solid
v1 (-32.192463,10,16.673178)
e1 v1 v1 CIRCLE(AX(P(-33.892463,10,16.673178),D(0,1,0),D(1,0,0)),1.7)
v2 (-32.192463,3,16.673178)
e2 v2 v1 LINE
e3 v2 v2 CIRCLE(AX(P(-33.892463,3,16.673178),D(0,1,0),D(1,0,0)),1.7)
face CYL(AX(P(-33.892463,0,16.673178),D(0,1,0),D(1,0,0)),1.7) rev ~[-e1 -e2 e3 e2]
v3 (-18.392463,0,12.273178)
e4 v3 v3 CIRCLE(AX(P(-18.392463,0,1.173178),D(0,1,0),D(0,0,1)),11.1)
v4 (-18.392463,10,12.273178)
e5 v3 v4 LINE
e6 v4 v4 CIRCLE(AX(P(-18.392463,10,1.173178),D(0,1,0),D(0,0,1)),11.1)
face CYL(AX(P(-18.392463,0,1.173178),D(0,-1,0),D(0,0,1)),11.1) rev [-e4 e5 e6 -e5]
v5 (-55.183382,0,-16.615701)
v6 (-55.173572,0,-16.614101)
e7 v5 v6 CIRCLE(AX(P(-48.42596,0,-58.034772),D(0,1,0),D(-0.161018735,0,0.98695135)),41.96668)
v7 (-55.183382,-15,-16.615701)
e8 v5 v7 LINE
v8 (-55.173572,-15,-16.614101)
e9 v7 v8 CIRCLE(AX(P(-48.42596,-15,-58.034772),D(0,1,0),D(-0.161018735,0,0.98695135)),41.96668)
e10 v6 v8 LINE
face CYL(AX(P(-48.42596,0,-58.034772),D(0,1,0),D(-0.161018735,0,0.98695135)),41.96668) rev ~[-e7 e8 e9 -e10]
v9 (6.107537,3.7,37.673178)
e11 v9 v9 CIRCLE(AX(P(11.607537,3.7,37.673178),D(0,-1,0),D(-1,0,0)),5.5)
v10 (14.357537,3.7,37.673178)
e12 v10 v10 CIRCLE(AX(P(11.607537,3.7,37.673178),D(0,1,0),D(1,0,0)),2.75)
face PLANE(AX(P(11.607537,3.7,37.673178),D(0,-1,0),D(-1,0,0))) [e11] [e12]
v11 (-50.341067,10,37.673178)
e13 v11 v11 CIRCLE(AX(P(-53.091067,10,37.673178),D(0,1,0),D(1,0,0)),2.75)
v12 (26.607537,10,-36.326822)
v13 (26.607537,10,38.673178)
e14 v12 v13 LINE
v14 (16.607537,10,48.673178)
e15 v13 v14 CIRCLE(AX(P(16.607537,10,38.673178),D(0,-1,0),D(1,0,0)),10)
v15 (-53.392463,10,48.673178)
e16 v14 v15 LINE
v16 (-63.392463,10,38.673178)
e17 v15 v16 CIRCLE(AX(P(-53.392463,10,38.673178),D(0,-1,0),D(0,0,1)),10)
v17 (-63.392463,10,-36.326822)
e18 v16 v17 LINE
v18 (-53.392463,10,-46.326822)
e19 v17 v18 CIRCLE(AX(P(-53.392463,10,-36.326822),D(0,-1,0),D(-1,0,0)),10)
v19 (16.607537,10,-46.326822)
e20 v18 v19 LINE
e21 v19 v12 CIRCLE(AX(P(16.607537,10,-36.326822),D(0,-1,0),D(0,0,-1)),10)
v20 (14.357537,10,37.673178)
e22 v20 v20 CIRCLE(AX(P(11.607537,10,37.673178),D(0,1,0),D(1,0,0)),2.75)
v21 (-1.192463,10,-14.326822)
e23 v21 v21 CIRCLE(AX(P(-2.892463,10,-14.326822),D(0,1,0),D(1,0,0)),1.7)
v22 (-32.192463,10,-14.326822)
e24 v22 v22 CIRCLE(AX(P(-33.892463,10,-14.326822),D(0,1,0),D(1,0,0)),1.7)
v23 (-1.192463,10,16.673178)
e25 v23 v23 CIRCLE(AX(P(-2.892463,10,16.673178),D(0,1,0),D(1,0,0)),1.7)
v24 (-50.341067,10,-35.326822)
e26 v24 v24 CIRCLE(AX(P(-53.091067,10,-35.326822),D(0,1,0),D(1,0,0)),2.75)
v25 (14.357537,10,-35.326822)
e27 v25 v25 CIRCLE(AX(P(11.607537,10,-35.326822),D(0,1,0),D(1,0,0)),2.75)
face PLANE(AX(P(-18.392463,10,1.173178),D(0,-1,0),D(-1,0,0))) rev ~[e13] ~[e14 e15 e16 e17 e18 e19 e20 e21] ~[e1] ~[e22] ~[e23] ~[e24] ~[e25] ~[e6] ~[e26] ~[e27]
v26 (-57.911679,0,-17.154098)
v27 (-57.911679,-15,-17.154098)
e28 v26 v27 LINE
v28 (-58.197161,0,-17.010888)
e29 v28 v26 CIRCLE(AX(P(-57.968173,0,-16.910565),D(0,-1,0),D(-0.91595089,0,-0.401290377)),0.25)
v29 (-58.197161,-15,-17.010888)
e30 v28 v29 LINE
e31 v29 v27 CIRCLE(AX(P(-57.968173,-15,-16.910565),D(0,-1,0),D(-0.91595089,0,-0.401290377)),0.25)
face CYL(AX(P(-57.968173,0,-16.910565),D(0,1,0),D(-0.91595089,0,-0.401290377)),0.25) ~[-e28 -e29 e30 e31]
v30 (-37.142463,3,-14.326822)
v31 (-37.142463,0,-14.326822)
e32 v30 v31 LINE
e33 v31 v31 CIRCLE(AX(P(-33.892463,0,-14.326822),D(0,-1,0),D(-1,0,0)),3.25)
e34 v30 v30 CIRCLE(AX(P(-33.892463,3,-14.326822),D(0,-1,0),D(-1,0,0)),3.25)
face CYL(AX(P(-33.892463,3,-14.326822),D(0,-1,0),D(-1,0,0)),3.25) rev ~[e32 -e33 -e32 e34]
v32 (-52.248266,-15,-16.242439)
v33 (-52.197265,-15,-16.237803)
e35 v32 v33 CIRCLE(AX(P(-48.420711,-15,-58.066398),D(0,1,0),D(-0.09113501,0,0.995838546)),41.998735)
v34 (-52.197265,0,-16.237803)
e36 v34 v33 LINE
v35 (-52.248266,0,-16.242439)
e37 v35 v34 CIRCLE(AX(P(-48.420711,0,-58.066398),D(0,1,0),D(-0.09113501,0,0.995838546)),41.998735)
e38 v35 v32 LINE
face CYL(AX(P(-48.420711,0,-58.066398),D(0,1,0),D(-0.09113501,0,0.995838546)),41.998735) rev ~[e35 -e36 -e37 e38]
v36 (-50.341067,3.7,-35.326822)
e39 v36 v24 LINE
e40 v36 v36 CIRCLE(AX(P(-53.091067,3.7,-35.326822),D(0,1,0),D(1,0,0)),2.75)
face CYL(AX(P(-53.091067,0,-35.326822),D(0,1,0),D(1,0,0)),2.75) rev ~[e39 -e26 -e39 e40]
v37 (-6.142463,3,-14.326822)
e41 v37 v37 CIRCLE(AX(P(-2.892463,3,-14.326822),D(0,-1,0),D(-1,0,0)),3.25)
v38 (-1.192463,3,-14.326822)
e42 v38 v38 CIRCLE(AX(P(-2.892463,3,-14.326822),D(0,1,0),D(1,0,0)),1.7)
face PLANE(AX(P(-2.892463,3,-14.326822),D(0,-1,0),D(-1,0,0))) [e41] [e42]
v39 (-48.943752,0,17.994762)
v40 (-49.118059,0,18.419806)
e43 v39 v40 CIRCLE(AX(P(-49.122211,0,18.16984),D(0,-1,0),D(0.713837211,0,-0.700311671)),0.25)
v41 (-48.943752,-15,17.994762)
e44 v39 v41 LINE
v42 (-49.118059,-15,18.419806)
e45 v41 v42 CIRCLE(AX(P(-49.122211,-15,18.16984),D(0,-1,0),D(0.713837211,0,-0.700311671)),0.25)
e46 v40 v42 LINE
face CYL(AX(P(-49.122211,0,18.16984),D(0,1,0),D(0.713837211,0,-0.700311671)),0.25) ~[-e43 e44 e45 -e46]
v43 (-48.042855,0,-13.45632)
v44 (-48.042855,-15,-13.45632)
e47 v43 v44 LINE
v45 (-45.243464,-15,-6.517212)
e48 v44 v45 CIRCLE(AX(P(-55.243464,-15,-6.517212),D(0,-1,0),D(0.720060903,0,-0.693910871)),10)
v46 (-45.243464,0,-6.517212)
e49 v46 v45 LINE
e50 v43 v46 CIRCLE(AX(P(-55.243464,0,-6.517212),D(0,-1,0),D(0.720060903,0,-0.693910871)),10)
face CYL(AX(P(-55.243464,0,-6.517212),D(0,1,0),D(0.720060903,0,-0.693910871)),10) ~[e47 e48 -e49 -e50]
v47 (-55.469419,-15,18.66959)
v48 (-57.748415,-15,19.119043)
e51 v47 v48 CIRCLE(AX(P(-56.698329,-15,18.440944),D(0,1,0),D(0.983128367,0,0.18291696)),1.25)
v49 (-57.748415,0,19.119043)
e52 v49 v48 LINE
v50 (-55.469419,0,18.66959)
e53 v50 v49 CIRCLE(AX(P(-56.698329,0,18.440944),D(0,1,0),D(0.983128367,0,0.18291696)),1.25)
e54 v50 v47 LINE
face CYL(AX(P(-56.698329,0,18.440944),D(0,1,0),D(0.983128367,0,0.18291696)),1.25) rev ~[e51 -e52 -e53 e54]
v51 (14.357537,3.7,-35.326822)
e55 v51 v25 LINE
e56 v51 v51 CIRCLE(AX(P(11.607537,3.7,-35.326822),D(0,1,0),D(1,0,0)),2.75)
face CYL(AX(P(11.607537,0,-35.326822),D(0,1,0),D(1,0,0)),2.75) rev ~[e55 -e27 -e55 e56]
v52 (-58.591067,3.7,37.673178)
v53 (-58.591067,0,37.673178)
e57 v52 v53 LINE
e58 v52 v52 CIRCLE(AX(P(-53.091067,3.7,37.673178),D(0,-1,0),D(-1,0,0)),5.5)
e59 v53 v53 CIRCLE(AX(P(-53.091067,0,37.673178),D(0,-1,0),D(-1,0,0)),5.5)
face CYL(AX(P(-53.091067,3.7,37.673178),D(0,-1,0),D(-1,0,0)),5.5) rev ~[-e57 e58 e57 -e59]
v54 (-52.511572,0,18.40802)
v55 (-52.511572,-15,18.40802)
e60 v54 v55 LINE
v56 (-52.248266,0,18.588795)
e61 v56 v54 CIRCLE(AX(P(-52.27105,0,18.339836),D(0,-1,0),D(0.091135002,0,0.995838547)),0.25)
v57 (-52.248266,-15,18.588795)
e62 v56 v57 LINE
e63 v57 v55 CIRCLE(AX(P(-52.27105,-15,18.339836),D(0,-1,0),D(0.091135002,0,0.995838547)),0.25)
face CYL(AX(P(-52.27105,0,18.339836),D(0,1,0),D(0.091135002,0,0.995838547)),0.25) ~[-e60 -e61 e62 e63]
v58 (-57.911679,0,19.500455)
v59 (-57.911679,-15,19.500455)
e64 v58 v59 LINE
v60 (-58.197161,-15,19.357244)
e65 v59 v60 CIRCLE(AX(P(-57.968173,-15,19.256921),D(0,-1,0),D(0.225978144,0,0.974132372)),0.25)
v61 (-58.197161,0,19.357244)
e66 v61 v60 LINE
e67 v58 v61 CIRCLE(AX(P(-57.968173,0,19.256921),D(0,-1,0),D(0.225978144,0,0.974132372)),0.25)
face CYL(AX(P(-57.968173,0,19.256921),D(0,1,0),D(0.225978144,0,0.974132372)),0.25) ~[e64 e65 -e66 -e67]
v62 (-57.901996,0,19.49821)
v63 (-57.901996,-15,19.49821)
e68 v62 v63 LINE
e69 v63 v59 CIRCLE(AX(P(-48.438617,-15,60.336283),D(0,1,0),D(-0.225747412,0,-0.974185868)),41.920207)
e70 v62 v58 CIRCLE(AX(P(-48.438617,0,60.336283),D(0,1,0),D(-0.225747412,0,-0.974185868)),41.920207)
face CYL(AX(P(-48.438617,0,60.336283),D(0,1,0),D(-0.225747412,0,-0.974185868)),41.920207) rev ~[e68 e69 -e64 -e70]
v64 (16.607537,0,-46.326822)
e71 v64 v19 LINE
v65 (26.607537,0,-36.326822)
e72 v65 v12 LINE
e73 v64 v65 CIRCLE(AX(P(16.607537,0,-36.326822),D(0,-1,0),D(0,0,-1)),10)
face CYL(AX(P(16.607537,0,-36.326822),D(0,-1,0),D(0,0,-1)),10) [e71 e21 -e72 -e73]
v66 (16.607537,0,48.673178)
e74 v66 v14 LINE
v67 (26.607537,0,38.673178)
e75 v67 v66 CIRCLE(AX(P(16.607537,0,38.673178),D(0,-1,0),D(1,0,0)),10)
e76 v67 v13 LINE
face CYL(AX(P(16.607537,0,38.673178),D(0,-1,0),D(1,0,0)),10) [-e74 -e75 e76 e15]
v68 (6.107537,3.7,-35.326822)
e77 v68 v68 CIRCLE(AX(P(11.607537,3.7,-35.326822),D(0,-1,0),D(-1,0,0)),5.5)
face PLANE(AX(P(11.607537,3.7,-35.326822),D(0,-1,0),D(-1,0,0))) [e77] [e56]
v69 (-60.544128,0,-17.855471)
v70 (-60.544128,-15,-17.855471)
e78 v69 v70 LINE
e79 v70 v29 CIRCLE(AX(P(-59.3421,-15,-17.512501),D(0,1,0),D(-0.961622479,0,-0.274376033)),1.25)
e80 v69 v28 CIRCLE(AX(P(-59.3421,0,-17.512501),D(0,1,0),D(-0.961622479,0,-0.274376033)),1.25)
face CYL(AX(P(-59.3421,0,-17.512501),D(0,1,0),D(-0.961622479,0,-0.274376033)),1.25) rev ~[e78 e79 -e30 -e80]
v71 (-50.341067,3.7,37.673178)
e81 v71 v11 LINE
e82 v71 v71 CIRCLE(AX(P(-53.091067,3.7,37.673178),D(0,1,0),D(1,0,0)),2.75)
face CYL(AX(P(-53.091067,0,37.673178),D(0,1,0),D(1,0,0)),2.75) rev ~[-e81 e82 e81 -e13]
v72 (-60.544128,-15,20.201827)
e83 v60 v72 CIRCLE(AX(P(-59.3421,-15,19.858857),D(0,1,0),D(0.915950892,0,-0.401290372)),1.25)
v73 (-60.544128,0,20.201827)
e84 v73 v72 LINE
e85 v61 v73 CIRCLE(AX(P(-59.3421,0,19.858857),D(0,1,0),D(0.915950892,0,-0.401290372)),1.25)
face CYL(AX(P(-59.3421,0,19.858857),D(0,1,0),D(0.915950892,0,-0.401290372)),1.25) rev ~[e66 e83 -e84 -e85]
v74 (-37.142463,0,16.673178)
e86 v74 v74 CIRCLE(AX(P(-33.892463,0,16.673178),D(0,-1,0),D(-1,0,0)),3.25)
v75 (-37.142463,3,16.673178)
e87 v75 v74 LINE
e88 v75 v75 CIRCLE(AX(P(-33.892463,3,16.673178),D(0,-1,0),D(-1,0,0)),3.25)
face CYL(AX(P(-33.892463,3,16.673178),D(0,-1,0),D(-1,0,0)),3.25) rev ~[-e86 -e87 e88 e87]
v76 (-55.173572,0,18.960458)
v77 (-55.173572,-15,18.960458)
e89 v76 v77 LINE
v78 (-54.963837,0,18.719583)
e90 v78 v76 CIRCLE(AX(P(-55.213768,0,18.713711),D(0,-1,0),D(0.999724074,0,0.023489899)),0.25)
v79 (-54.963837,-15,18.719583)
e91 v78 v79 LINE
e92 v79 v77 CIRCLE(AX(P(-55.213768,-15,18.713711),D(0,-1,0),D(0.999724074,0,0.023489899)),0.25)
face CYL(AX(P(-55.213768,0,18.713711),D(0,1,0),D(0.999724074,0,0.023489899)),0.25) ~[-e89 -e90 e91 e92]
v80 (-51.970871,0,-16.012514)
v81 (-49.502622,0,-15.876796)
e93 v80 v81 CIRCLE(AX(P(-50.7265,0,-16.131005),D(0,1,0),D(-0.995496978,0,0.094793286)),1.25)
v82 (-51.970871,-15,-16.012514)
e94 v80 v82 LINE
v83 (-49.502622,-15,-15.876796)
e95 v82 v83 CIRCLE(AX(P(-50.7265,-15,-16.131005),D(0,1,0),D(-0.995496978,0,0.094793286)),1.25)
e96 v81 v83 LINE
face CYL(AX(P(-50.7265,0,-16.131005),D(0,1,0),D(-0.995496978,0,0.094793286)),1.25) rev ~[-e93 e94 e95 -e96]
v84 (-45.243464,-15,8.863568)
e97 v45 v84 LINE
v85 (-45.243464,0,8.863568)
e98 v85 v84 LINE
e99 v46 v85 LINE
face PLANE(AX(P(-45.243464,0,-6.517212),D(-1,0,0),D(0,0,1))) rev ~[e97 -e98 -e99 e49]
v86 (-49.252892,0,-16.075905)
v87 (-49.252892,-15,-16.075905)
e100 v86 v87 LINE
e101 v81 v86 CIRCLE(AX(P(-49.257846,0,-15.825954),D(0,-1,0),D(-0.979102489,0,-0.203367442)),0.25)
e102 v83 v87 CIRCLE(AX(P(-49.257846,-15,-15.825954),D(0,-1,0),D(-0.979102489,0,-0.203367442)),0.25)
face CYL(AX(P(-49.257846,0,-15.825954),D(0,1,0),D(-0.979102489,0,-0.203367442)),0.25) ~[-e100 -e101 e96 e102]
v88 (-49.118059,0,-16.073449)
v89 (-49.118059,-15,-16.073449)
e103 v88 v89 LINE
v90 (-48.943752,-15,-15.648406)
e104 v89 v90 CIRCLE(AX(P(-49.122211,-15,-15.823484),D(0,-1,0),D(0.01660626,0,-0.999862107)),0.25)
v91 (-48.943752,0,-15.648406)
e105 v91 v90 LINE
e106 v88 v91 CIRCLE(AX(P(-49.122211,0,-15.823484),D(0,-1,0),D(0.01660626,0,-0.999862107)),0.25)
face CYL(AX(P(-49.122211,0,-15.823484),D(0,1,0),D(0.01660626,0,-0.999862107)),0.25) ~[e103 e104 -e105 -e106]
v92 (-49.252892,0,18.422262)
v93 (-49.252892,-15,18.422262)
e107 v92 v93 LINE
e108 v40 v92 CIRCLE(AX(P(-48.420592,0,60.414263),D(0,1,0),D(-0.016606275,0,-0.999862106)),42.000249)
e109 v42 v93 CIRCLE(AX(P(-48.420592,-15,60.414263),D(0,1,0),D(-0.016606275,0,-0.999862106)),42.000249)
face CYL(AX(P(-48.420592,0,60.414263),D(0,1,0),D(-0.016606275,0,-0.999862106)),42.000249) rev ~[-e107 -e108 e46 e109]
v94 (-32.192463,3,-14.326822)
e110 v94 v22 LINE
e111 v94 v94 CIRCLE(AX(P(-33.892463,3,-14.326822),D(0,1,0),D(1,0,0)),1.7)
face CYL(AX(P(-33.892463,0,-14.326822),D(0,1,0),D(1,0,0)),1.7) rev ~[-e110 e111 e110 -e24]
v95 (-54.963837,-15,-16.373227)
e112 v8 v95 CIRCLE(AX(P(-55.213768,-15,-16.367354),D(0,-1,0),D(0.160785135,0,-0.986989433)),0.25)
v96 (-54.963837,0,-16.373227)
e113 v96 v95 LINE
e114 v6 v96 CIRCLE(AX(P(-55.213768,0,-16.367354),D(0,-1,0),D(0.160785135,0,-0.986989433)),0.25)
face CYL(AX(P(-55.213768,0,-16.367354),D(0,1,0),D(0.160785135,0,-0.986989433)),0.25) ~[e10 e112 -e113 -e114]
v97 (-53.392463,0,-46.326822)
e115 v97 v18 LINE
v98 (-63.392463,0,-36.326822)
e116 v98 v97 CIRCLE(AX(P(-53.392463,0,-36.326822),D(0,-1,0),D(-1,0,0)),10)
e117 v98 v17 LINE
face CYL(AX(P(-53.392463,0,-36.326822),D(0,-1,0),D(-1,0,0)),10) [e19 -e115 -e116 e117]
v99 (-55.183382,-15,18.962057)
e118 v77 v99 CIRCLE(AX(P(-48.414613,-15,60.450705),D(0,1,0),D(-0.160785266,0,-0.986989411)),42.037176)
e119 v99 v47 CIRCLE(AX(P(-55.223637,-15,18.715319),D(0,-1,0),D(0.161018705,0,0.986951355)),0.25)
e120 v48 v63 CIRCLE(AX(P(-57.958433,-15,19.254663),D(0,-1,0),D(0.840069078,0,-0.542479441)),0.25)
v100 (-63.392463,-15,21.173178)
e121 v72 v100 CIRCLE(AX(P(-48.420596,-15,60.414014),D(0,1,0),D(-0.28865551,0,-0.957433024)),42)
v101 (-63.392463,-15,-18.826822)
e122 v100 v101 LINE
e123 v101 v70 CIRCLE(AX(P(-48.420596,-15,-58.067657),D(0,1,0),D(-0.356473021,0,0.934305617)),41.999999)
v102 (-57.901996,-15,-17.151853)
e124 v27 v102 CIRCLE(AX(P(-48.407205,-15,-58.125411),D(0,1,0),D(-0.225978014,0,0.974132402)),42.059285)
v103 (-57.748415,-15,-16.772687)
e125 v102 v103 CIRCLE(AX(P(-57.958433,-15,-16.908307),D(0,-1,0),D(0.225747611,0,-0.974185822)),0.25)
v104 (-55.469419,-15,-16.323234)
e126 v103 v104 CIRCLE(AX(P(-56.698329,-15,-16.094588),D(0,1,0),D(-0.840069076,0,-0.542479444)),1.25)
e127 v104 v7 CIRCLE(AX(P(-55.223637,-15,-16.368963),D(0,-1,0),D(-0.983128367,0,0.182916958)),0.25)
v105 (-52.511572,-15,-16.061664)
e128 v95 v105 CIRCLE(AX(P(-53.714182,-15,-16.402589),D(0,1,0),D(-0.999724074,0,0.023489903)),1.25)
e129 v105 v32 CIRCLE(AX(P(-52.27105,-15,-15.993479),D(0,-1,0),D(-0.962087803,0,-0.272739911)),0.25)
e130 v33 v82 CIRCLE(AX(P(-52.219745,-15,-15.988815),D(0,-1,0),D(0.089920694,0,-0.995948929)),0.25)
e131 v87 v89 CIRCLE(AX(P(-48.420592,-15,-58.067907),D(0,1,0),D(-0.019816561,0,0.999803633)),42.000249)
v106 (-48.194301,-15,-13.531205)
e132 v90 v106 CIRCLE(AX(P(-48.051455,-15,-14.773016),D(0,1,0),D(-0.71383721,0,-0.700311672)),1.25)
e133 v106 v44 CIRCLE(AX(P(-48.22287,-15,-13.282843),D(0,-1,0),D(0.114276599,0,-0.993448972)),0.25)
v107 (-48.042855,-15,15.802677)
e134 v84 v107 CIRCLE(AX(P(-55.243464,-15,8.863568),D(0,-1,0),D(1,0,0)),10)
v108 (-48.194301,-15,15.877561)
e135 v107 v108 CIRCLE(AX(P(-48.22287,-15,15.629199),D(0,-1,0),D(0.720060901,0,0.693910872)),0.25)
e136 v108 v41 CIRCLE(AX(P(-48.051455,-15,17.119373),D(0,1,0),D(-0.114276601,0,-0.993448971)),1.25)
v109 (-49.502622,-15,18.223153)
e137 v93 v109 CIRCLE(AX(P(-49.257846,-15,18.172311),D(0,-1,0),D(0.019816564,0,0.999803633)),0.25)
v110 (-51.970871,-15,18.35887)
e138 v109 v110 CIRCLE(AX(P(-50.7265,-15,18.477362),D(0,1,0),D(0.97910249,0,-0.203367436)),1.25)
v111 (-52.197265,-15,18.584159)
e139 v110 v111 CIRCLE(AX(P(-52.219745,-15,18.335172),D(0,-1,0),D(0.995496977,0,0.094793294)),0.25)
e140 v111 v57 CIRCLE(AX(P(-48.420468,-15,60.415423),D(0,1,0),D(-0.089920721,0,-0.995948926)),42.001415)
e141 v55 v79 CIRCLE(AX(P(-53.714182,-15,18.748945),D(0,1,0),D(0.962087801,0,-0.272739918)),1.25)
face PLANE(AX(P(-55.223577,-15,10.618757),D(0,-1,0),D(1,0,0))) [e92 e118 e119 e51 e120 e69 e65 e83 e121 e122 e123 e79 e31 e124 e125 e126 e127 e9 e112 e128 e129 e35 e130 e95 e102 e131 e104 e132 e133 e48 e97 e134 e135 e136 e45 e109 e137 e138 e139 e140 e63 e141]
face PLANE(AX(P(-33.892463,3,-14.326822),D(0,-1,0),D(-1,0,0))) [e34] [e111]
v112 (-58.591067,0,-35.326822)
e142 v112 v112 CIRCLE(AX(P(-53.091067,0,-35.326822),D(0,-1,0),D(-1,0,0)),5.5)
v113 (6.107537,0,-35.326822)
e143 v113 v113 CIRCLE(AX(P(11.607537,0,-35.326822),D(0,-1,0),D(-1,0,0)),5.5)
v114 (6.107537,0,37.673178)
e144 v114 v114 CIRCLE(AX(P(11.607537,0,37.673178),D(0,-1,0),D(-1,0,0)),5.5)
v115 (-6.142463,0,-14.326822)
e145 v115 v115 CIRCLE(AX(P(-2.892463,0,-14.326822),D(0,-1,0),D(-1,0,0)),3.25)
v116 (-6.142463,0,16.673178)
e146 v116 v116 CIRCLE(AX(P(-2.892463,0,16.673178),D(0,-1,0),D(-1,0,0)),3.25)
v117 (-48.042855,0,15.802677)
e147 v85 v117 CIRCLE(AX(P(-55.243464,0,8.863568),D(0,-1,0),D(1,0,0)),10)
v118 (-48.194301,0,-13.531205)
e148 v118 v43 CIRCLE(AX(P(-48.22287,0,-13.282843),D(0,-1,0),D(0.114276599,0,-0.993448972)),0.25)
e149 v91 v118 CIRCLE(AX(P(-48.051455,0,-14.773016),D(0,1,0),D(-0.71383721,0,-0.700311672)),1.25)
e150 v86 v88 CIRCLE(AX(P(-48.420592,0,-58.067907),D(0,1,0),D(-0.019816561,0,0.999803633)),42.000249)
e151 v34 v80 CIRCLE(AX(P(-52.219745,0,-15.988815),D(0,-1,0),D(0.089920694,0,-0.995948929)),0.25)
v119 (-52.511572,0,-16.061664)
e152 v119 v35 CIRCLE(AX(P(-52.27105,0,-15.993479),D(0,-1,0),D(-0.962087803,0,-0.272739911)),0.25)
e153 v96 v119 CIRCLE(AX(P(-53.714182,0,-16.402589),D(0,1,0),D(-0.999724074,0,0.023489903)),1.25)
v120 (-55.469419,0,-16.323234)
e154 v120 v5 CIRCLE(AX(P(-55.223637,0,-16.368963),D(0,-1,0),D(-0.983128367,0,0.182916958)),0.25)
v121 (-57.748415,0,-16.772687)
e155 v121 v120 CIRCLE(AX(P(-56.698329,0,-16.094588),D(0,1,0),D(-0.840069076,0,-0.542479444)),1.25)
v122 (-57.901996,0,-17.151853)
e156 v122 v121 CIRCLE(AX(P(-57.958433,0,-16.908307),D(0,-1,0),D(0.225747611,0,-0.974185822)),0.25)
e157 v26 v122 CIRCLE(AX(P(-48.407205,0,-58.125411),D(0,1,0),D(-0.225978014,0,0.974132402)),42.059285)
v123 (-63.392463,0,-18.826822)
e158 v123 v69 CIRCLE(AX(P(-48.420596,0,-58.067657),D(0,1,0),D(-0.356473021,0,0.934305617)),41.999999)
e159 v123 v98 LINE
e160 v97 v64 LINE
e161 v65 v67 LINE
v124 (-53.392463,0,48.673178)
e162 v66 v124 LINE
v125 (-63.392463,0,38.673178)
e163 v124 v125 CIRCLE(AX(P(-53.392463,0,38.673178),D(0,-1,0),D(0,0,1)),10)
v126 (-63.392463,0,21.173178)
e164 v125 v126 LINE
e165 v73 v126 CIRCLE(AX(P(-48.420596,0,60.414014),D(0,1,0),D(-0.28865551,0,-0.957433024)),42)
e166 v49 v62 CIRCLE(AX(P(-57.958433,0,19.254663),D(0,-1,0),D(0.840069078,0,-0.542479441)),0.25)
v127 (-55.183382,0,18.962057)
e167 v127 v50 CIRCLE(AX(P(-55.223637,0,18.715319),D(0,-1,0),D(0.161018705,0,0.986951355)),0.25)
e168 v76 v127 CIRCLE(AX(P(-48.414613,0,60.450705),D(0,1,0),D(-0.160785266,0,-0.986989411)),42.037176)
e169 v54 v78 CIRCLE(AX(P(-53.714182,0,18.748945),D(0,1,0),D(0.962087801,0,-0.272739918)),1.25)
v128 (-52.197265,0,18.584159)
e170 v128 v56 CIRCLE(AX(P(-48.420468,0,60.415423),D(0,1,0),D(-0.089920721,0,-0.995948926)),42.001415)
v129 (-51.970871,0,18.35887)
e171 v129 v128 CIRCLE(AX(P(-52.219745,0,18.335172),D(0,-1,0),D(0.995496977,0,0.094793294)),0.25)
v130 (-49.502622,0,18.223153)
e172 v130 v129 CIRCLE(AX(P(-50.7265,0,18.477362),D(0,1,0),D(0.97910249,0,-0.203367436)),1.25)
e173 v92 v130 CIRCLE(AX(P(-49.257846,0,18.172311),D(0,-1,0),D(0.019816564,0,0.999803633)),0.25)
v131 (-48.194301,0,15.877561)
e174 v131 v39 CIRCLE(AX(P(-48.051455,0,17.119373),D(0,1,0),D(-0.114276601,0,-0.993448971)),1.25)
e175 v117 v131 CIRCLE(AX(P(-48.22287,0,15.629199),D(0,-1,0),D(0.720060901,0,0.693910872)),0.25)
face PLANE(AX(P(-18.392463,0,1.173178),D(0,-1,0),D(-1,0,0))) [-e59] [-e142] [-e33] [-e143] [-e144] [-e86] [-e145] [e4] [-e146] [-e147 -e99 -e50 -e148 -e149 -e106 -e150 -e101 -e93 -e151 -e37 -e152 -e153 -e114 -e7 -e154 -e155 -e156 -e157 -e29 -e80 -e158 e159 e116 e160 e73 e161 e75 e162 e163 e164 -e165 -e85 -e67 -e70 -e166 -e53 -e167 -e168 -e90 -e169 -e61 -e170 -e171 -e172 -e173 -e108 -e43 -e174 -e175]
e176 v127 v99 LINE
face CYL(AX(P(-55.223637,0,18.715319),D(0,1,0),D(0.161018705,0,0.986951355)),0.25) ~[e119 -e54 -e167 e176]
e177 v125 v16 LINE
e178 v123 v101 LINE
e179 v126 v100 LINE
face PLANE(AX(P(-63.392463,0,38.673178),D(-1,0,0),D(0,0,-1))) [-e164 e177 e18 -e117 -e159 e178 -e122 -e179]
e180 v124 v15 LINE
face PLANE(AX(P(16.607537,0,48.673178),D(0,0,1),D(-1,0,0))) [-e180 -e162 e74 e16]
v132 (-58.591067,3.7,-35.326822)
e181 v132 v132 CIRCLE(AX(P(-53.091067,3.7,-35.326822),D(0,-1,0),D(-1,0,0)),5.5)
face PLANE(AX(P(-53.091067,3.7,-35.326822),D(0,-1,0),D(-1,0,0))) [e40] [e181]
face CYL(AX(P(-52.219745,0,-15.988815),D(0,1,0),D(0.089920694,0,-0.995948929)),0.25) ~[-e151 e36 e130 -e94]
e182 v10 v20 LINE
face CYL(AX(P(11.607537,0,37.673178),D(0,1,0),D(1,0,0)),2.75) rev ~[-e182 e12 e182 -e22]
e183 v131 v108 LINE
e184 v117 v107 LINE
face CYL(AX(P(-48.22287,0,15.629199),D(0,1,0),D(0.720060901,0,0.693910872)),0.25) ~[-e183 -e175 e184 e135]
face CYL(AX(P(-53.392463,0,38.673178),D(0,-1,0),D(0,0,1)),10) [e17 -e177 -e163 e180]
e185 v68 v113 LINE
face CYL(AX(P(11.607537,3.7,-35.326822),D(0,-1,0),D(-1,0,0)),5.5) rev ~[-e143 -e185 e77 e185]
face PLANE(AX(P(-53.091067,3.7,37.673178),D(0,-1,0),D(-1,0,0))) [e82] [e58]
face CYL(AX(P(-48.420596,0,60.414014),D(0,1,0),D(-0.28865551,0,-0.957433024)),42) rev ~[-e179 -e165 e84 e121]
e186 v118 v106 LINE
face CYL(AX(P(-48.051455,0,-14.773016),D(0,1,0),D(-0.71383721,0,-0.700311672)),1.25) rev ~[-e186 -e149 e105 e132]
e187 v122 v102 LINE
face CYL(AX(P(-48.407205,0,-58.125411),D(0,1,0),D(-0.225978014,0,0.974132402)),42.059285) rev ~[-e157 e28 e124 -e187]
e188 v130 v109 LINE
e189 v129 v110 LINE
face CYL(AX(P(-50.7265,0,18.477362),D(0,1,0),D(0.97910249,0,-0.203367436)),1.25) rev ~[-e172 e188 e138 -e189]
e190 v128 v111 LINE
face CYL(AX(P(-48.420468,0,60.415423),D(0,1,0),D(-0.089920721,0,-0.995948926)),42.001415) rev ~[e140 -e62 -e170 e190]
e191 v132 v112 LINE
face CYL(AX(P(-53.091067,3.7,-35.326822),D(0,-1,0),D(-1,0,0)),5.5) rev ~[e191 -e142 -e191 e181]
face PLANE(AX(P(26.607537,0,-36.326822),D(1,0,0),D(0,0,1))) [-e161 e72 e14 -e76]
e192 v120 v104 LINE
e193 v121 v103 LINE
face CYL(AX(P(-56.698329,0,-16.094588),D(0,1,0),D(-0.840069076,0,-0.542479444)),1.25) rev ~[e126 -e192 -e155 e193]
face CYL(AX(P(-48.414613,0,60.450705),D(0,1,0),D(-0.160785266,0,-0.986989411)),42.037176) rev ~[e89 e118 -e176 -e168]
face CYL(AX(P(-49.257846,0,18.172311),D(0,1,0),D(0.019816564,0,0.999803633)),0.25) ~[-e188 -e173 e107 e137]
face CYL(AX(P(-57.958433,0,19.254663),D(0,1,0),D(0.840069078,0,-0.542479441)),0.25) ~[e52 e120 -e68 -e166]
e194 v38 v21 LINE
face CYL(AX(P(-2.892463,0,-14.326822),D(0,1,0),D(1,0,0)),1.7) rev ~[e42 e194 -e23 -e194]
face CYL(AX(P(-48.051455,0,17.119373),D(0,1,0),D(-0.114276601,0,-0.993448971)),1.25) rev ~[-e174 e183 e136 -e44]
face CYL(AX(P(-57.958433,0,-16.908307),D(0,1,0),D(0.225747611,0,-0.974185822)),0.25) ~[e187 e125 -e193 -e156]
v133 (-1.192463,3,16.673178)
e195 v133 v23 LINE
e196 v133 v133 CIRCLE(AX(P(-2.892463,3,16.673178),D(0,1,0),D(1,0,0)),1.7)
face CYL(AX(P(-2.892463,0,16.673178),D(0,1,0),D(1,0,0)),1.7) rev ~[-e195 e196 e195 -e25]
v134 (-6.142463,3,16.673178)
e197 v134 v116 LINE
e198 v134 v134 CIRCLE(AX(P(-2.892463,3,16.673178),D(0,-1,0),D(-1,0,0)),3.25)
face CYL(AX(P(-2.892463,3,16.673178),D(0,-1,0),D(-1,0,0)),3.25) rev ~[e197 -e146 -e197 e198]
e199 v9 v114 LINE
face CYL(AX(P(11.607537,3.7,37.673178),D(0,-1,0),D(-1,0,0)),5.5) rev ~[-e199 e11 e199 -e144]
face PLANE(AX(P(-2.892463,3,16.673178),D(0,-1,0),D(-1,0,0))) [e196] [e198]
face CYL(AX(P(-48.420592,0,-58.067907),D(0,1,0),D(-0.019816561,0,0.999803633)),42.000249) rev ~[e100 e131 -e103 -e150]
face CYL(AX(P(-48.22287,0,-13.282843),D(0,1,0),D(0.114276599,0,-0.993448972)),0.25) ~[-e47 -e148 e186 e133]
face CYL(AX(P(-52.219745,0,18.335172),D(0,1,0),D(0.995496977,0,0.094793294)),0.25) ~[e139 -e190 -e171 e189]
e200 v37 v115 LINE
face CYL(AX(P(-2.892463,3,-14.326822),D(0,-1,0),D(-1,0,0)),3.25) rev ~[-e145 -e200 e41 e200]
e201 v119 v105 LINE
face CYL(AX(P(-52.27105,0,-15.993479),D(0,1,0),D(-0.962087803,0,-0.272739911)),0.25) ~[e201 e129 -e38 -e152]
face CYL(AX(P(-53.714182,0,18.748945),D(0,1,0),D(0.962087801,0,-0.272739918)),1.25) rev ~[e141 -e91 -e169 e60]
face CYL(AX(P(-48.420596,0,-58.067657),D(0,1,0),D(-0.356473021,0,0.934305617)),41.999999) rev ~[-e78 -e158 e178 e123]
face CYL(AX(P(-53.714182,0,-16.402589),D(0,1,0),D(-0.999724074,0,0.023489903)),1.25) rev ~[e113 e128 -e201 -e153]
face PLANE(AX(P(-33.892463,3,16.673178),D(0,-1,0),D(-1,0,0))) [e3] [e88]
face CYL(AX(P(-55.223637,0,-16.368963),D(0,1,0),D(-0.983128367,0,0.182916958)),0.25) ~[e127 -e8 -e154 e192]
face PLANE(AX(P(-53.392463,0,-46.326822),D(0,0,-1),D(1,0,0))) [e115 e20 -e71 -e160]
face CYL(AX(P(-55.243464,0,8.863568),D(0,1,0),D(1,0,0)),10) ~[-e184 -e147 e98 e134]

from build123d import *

# Parameters (mm, degrees)
SKETCH1_R                                        = 11.1
SKETCH1_R_2                                      = 1.5
BOSS_EXTRUDE1_DEPTH                              = 10
CBORE_FOR_M3_SHCS2_D                             = 3.4
CBORE_FOR_M3_SHCS2_CBORE_D                       = 6.5
CBORE_FOR_M3_SHCS2_CBORE_DEPTH                   = 3
BOSS_EXTRUDE2_DEPTH                              = 15
CBORE_FOR_M5_PAN_HEAD_MACHINE_SCREW1_D           = 5.5
CBORE_FOR_M5_PAN_HEAD_MACHINE_SCREW1_CBORE_D     = 11
CBORE_FOR_M5_PAN_HEAD_MACHINE_SCREW1_CBORE_DEPTH = 3.7


with BuildPart() as part:
    # Sketch1 → Boss-Extrude1 (new body)
    with BuildSketch(Plane(origin=(0, 0, 0), x_dir=(1, 0, 0), z_dir=(0, 1, 0))):
        with BuildLine():
            Line((-53.392463057, 46.326821798), (16.607536943, 46.326821798))
            ThreePointArc((16.607536943, 46.326821798), (23.678604755, 43.39788961), (26.607536943, 36.326821798))
            Line((26.607536943, 36.326821798), (26.607536943, -38.673178202))
            ThreePointArc((26.607536943, -38.673178202), (23.678604755, -45.744246014), (16.607536943, -48.673178202))
            Line((16.607536943, -48.673178202), (-53.392463057, -48.673178202))
            ThreePointArc((-53.392463057, -48.673178202), (-60.463530869, -45.744246014), (-63.392463057, -38.673178202))
            Line((-63.392463057, -38.673178202), (-63.392463057, 36.326821798))
            ThreePointArc((-63.392463057, 36.326821798), (-60.463530869, 43.39788961), (-53.392463057, 46.326821798))
        make_face()
        with Locations(Location((-18.392463057, -1.173178202, 0), (0, 0, 270))):
            Circle(SKETCH1_R, mode=Mode.SUBTRACT)
        with Locations(Location((-33.892463057, 14.326821798, 0), (0, 0, 270))):
            Circle(SKETCH1_R_2, mode=Mode.SUBTRACT)
        with Locations(Location((-2.892463057, 14.326821798, 0), (0, 0, 270))):
            Circle(SKETCH1_R_2, mode=Mode.SUBTRACT)
        with Locations(Location((-2.892463057, -16.673178202, 0), (0, 0, 270))):
            Circle(SKETCH1_R_2, mode=Mode.SUBTRACT)
        with Locations(Location((-33.892463057, -16.673178202, 0), (0, 0, 270))):
            Circle(SKETCH1_R_2, mode=Mode.SUBTRACT)
    extrude(amount=BOSS_EXTRUDE1_DEPTH)

    # CBORE for M3 SHCS2 (through all)
    with Locations(Plane(origin=(0, 0, 0), x_dir=(-1, 0, 0), z_dir=(0, -1, 0))):
        with Locations((33.892463057, 14.326821798), (33.892463057, -16.673178202), (2.892463057, -16.673178202), (2.892463057, 14.326821798)):
            CounterBoreHole(CBORE_FOR_M3_SHCS2_D / 2, CBORE_FOR_M3_SHCS2_CBORE_D / 2, CBORE_FOR_M3_SHCS2_CBORE_DEPTH)

    # Sketch14 → Boss-Extrude2 (add)
    with BuildSketch(Plane.XZ):
        with BuildLine():
            Line((-63.392463057, 21.173178202), (-63.392463057, 1.173178202))
            Line((-63.392463057, 1.173178202), (-45.24346378, 1.173178202))
            Line((-45.24346378, 1.173178202), (-45.24346378, 8.863568164))
            ThreePointArc((-45.24346378, 8.863568164), (-45.969681105, 12.604818608), (-48.042854757, 15.802676874))
            ThreePointArc((-48.042854757, 15.802676874), (-48.11206031, 15.853300063), (-48.194300833, 15.877561399))
            ThreePointArc((-48.194300833, 15.877561399), (-49.229807613, 16.702257146), (-48.943751594, 17.994762203))
            ThreePointArc((-48.943751594, 17.994762203), (-48.890905547, 18.264697041), (-49.118059331, 18.419805648))
            ThreePointArc((-49.118059331, 18.419805648), (-49.185476717, 18.420979486), (-49.252892133, 18.422261555))
            ThreePointArc((-49.252892133, 18.422261555), (-49.413697771, 18.367785226), (-49.502621898, 18.223152506))
            ThreePointArc((-49.502621898, 18.223152506), (-50.795128099, 17.229247149), (-51.970871232, 18.358870194))
            ThreePointArc((-51.970871232, 18.358870194), (-52.04340184, 18.512380567), (-52.197265304, 18.584159104))
            ThreePointArc((-52.197265304, 18.584159104), (-52.222766522, 18.586469356), (-52.248266326, 18.588795154))
            ThreePointArc((-52.248266326, 18.588795154), (-52.412550431, 18.545936584), (-52.511572027, 18.408020497))
            ThreePointArc((-52.511572027, 18.408020497), (-53.871728968, 17.508913587), (-54.963836872, 18.719583015))
            ThreePointArc((-54.963836872, 18.719583015), (-55.025224421, 18.877879234), (-55.173571608, 18.960457898))
            ThreePointArc((-55.173571608, 18.960457898), (-55.178476777, 18.961257271), (-55.183381852, 18.962057224))
            ThreePointArc((-55.183381852, 18.962057224), (-55.402367129, 18.890120336), (-55.46941862, 18.669590145))
            ThreePointArc((-55.46941862, 18.669590145), (-56.940189657, 17.214565757), (-57.748415424, 19.11904325))
            ThreePointArc((-57.748415424, 19.11904325), (-57.726719012, 19.348518158), (-57.901995791, 19.498209567))
            ThreePointArc((-57.901995791, 19.498209567), (-57.906837309, 19.499331791), (-57.911678694, 19.500454589))
            ThreePointArc((-57.911678694, 19.500454589), (-58.080270451, 19.480381142), (-58.197160956, 19.357244089))
            ThreePointArc((-58.197160956, 19.357244089), (-59.765354714, 18.68269589), (-60.54412767, 20.201827096))
            ThreePointArc((-60.54412767, 20.201827096), (-61.976998133, 20.661983137), (-63.392463057, 21.173178202))
        make_face()
        with BuildLine():
            Line((-63.392463057, 1.173178202), (-63.392463057, -18.826821798))
            ThreePointArc((-63.392463057, -18.826821798), (-61.976998133, -18.315626732), (-60.54412767, -17.855470691))
            ThreePointArc((-60.54412767, -17.855470691), (-59.765354714, -16.336339486), (-58.197160956, -17.010887685))
            ThreePointArc((-58.197160956, -17.010887685), (-58.080270451, -17.134024738), (-57.911678694, -17.154098184))
            ThreePointArc((-57.911678694, -17.154098184), (-57.906837309, -17.152975387), (-57.901995791, -17.151853162))
            ThreePointArc((-57.901995791, -17.151853162), (-57.726719012, -17.002161753), (-57.748415424, -16.772686846))
            ThreePointArc((-57.748415424, -16.772686846), (-56.940189657, -14.868209353), (-55.46941862, -16.323233741))
            ThreePointArc((-55.46941862, -16.323233741), (-55.402367129, -16.543763931), (-55.183381852, -16.615700819))
            ThreePointArc((-55.183381852, -16.615700819), (-55.178476777, -16.614900866), (-55.173571608, -16.614101494))
            ThreePointArc((-55.173571608, -16.614101494), (-55.025224421, -16.531522829), (-54.963836872, -16.373226611))
            ThreePointArc((-54.963836872, -16.373226611), (-53.871728968, -15.162557182), (-52.511572027, -16.061664092))
            ThreePointArc((-52.511572027, -16.061664092), (-52.412550431, -16.19958018), (-52.248266326, -16.242438749))
            ThreePointArc((-52.248266326, -16.242438749), (-52.222766522, -16.240112951), (-52.197265304, -16.2378027))
            ThreePointArc((-52.197265304, -16.2378027), (-52.04340184, -16.166024163), (-51.970871232, -16.012513789))
            ThreePointArc((-51.970871232, -16.012513789), (-50.795128099, -14.882890744), (-49.502621898, -15.876796101))
            ThreePointArc((-49.502621898, -15.876796101), (-49.413697771, -16.021428821), (-49.252892133, -16.07590515))
            ThreePointArc((-49.252892133, -16.07590515), (-49.185476717, -16.074623081), (-49.118059331, -16.073449243))
            ThreePointArc((-49.118059331, -16.073449243), (-48.890905547, -15.918340637), (-48.943751594, -15.648405799))
            ThreePointArc((-48.943751594, -15.648405799), (-49.229807613, -14.355900742), (-48.194300833, -13.531204995))
            ThreePointArc((-48.194300833, -13.531204995), (-48.11206031, -13.506943659), (-48.042854757, -13.45632047))
            ThreePointArc((-48.042854757, -13.45632047), (-45.969681105, -10.258462203), (-45.24346378, -6.517211759))
            Line((-45.24346378, -6.517211759), (-45.24346378, 1.173178202))
            Line((-45.24346378, 1.173178202), (-63.392463057, 1.173178202))
        make_face()
    extrude(amount=BOSS_EXTRUDE2_DEPTH)

    # CBORE for M5 Pan Head Machine Screw1 (through all)
    with Locations(Plane(origin=(0, 0, 0), x_dir=(-1, 0, 0), z_dir=(0, -1, 0))):
        with Locations((53.091066757, 35.326821798), (-11.607536943, 35.326821798), (-11.607536943, -37.673178202), (53.091066757, -37.673178202)):
            CounterBoreHole(CBORE_FOR_M5_PAN_HEAD_MACHINE_SCREW1_D / 2, CBORE_FOR_M5_PAN_HEAD_MACHINE_SCREW1_CBORE_D / 2, CBORE_FOR_M5_PAN_HEAD_MACHINE_SCREW1_CBORE_DEPTH)


solid = part.part
